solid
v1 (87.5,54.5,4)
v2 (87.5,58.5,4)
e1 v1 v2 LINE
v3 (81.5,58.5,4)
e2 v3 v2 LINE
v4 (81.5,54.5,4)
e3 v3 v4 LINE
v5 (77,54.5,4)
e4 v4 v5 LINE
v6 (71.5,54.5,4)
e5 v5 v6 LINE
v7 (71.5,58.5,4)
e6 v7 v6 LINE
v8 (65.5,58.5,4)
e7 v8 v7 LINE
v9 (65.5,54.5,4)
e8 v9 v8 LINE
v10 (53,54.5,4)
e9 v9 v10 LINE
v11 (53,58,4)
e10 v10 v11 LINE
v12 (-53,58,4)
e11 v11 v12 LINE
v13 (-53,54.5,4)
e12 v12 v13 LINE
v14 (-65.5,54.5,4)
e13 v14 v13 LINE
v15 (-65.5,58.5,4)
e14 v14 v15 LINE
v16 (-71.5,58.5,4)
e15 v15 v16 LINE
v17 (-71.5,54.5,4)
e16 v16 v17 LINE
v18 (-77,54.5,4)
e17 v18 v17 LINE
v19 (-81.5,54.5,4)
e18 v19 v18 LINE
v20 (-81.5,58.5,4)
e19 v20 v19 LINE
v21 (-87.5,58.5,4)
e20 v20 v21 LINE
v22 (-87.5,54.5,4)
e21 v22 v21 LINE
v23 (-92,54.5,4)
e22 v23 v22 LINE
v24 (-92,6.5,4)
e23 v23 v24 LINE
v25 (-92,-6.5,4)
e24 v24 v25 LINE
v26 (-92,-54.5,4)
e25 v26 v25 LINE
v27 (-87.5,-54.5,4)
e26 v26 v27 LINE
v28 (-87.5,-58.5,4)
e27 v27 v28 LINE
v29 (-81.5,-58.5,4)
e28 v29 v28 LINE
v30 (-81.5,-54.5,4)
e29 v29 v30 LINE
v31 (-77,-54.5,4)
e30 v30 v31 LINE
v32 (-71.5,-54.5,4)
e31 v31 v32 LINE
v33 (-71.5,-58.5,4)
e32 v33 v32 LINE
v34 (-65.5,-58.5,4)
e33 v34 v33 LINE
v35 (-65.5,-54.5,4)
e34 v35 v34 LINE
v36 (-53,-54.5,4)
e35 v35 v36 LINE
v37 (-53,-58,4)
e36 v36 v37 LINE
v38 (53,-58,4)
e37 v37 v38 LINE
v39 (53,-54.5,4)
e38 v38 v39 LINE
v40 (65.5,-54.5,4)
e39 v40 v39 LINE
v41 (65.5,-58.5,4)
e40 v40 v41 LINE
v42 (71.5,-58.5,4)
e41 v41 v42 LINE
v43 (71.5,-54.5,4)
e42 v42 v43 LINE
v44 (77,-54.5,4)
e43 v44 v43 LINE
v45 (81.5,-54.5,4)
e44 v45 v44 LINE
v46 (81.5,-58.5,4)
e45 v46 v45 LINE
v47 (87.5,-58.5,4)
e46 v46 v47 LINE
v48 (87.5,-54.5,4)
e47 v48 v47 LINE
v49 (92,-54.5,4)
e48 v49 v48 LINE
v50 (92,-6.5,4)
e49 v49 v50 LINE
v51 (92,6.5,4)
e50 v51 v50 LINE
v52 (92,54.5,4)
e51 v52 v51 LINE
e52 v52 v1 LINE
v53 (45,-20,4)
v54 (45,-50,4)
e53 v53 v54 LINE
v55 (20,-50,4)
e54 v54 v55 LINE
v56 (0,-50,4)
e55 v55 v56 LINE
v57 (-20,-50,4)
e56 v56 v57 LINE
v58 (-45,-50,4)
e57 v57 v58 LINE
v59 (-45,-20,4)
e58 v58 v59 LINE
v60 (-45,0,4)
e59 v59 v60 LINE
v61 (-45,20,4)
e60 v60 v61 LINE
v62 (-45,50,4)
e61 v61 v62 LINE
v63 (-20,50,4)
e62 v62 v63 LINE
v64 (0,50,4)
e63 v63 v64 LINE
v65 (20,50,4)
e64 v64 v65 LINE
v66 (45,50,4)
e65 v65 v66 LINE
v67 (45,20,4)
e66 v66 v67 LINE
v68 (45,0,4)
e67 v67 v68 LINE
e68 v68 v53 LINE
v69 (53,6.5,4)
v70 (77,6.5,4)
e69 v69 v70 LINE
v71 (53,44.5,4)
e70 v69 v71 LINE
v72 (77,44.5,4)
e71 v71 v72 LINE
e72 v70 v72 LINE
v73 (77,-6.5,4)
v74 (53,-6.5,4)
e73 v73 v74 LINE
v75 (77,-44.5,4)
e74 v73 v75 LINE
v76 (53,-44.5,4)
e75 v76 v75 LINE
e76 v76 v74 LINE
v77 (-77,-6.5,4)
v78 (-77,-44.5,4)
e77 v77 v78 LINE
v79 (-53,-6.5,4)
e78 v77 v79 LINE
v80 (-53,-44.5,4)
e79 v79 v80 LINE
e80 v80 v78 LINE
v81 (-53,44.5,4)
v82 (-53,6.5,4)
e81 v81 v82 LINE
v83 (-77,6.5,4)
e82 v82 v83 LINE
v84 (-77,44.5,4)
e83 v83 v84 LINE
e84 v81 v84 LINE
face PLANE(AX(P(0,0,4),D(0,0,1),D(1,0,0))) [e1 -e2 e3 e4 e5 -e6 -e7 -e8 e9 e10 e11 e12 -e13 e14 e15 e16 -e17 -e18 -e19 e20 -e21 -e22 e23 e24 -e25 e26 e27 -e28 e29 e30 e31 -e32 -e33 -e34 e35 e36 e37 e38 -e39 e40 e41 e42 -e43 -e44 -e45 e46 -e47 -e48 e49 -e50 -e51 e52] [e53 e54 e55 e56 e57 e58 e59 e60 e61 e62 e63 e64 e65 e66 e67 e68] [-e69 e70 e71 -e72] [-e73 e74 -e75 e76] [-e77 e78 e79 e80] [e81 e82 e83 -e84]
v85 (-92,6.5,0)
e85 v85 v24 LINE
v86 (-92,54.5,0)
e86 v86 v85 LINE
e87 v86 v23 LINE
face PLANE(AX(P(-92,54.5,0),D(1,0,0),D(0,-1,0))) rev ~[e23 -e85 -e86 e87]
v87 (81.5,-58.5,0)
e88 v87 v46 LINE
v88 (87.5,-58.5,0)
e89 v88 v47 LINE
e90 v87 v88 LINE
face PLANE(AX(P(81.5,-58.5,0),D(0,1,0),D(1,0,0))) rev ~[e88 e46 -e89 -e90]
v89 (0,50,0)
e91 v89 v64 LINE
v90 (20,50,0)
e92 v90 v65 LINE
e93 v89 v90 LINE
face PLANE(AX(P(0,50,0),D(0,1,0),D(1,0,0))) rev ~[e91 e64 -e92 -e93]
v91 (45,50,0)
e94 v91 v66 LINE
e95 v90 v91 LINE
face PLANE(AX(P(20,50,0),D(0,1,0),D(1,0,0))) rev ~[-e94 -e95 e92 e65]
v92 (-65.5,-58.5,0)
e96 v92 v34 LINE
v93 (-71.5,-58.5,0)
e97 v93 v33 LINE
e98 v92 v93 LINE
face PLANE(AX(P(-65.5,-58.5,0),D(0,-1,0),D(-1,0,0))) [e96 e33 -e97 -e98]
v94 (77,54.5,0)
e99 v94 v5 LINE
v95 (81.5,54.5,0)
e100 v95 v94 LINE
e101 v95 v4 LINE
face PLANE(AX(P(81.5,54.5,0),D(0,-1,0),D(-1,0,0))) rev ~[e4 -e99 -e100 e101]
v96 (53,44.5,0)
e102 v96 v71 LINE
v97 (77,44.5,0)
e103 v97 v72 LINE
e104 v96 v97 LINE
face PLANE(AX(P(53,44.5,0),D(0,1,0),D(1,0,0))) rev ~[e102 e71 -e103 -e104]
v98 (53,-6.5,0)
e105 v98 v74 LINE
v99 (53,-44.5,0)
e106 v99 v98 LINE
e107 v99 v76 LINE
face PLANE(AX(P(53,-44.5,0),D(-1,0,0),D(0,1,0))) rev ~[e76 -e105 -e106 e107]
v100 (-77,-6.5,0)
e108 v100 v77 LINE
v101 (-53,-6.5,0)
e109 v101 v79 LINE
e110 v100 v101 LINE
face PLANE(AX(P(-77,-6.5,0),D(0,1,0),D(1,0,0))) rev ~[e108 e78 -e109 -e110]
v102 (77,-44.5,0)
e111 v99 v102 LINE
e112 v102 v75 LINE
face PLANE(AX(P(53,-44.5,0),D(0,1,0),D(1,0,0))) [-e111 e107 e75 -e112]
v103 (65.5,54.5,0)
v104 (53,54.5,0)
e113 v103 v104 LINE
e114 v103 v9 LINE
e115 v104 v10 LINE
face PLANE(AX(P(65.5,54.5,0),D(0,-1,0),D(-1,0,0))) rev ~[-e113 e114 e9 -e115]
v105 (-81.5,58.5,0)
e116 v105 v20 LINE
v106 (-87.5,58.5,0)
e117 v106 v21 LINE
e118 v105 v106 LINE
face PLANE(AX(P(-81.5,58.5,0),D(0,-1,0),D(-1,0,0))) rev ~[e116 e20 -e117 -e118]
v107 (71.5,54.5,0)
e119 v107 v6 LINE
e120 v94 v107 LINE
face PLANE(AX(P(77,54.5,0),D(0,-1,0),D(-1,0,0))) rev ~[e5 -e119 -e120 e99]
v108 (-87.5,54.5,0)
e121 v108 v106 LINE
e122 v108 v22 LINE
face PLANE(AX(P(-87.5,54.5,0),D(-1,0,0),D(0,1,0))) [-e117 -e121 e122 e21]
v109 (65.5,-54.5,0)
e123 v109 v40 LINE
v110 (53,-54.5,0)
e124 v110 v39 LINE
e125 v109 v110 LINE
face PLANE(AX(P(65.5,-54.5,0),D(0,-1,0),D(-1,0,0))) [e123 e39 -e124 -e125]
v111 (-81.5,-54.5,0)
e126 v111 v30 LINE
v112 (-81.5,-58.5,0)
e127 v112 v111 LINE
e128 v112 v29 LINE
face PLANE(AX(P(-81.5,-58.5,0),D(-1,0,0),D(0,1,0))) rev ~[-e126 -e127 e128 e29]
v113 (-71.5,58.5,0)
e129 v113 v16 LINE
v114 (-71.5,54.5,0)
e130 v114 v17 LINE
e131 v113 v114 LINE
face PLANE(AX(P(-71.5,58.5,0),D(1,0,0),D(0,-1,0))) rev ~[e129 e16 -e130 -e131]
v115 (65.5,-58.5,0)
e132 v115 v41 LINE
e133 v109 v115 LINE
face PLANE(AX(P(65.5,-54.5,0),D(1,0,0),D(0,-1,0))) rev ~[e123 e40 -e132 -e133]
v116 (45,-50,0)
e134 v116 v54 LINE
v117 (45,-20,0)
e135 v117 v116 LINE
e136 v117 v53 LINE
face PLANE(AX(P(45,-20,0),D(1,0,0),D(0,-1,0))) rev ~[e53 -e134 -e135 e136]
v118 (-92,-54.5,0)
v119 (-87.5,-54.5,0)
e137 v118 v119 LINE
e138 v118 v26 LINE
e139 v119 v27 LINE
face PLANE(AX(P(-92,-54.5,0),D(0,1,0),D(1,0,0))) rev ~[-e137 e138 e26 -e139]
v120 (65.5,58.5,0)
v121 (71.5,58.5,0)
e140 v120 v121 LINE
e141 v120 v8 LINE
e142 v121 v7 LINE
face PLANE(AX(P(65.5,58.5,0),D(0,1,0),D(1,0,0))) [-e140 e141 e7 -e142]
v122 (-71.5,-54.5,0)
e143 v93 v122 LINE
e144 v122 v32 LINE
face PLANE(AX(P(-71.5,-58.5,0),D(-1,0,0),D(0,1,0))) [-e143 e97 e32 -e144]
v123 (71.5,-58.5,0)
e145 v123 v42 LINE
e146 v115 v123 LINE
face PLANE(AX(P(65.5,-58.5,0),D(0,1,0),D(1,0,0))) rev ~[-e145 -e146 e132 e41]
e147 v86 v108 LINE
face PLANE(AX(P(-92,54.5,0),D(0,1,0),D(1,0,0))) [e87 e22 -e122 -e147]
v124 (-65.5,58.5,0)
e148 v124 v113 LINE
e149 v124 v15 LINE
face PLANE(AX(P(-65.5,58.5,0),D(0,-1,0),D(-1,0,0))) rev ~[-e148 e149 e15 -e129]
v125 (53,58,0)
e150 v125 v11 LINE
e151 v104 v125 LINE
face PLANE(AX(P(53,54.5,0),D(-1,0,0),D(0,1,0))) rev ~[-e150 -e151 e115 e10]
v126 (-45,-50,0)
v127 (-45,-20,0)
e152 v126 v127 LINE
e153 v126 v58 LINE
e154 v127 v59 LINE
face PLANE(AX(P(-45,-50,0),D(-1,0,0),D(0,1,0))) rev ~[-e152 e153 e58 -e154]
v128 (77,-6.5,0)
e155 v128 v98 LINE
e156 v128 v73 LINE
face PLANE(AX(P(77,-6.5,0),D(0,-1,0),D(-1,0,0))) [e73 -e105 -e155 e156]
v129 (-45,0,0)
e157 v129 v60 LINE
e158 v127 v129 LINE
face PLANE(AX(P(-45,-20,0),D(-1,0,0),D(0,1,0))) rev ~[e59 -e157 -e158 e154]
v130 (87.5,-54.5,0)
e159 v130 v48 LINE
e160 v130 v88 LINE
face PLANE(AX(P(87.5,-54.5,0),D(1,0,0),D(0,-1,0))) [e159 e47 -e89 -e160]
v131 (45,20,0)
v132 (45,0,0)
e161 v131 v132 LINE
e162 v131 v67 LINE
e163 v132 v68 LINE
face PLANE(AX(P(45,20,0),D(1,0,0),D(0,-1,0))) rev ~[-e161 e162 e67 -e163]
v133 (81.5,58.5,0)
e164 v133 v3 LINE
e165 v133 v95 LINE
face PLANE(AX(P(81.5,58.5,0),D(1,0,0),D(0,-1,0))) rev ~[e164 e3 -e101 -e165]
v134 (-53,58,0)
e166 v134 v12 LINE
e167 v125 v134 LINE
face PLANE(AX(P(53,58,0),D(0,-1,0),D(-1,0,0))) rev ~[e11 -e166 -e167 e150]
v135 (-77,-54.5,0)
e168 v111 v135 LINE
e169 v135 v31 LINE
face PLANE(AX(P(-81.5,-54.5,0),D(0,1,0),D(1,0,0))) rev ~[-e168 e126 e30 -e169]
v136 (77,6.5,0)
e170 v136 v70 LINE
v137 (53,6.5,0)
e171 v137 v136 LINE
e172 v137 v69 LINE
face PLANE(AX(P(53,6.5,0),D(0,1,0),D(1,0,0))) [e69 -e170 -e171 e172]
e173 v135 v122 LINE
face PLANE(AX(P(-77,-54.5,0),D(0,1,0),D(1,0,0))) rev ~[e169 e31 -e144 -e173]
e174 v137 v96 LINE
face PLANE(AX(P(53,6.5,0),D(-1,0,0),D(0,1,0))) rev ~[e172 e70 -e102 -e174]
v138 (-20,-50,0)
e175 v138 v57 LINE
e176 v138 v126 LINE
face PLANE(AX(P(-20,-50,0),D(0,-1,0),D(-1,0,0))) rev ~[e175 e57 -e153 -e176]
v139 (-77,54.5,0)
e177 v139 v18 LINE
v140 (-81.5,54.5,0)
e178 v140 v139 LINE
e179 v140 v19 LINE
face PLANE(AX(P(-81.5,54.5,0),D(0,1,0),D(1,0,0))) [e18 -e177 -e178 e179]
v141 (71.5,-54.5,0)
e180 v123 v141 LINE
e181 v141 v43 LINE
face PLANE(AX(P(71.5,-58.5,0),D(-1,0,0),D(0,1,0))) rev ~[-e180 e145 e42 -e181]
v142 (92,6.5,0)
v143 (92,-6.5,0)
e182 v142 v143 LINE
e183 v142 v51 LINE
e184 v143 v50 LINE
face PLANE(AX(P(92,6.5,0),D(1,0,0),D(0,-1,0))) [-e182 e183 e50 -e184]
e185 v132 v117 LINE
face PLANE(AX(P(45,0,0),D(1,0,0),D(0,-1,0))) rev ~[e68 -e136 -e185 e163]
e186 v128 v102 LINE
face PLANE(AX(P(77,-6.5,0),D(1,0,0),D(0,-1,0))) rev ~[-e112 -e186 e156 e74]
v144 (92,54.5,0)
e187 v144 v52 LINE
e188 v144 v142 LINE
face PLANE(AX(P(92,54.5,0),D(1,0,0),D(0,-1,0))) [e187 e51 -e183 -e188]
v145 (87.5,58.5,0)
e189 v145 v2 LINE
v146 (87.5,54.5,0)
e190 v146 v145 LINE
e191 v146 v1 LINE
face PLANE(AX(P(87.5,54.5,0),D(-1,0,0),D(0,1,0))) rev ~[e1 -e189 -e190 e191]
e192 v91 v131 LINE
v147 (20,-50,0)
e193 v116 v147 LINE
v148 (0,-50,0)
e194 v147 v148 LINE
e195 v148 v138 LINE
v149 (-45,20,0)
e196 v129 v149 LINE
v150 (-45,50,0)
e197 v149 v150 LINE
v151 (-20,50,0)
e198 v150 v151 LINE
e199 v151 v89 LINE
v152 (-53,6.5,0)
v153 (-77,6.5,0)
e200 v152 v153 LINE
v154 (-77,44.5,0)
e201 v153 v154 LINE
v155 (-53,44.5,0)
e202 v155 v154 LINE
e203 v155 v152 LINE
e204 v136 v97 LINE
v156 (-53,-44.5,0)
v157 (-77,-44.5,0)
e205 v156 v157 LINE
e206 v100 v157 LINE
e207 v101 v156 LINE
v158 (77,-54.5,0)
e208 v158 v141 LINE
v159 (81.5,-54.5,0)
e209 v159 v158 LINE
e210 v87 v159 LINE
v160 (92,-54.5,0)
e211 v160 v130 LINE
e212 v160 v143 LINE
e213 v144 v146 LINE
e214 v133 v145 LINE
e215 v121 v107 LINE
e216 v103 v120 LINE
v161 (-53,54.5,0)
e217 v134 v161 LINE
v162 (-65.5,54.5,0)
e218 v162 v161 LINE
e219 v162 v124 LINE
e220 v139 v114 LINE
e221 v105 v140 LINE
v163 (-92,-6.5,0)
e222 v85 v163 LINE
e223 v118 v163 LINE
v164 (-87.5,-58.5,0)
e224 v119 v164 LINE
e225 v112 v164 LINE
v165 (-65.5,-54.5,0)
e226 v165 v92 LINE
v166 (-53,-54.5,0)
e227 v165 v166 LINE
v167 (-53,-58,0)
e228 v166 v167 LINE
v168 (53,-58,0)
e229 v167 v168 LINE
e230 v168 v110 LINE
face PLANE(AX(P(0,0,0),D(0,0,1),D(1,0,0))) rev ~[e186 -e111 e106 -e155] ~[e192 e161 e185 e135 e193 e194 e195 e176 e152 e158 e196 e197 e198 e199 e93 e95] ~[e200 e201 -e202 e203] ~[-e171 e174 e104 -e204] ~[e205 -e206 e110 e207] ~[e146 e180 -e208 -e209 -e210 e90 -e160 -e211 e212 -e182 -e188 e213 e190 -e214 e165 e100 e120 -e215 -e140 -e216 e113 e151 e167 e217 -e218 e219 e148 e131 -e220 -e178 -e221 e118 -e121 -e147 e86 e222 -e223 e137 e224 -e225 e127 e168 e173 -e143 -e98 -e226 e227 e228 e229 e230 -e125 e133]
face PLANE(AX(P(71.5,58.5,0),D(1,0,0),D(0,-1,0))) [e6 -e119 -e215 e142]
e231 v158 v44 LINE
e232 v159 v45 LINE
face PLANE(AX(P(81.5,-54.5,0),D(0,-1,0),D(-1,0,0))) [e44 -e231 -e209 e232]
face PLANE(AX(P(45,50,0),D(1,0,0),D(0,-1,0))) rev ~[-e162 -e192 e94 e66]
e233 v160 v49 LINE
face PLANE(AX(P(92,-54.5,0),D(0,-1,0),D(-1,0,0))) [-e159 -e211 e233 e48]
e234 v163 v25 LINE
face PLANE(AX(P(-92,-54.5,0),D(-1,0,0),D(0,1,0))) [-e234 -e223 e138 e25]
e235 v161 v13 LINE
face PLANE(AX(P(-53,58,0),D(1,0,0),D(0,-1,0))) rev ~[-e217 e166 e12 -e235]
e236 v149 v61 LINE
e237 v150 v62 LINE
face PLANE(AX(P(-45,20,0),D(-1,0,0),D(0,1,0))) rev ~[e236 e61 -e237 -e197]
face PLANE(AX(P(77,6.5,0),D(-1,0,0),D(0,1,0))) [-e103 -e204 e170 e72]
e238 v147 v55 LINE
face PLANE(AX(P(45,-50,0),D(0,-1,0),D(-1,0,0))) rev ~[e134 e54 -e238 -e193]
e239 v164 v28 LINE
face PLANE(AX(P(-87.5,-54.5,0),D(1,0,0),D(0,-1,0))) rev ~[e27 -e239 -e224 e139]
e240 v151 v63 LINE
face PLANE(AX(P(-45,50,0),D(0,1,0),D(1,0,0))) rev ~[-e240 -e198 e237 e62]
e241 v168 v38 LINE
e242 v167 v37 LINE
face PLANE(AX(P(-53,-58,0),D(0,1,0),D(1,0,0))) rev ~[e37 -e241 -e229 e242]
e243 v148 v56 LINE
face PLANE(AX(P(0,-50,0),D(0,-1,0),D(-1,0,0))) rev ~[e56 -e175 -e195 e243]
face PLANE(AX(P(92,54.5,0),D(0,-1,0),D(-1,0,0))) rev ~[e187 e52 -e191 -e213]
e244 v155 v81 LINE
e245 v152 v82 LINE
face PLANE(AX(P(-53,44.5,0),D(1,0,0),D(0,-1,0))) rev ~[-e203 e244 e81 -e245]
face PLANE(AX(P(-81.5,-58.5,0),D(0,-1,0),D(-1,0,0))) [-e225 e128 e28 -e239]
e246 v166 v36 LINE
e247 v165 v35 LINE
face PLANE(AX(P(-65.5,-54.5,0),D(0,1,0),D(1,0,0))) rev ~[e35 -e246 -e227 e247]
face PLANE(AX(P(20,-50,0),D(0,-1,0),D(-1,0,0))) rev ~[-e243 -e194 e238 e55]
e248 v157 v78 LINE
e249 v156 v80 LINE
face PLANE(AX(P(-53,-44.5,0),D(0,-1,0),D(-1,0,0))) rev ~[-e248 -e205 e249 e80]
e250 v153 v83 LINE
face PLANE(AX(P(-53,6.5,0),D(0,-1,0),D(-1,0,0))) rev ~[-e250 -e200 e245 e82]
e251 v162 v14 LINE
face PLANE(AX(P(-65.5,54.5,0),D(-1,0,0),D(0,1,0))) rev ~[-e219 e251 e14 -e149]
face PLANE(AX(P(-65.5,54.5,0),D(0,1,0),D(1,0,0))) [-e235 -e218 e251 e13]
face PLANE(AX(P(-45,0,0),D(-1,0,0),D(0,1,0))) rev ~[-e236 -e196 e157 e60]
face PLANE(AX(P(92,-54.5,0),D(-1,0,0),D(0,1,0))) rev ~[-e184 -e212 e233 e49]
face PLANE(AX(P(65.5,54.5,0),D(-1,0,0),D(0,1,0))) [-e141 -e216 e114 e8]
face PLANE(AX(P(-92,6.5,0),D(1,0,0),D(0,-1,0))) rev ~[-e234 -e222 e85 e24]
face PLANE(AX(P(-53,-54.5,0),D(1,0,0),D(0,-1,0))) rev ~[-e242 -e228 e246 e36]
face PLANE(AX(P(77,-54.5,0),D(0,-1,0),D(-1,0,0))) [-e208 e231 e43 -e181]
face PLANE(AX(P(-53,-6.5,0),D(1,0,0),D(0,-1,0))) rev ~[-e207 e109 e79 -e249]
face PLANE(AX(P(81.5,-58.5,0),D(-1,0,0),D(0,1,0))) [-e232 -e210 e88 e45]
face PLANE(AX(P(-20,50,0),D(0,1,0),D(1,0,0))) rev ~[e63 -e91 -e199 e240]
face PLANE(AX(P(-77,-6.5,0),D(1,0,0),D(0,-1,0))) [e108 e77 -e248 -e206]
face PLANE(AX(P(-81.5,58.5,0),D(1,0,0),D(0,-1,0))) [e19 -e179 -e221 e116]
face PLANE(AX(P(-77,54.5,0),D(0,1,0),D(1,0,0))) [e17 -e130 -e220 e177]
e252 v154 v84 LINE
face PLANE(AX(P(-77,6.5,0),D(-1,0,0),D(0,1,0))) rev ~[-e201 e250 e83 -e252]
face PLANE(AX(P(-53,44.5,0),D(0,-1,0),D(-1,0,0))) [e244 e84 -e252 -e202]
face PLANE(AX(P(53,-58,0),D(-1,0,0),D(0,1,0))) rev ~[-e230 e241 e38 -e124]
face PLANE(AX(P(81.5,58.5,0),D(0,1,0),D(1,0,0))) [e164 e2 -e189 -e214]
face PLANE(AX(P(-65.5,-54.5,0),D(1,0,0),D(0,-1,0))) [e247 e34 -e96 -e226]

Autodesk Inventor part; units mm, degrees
ref_plane "YZ Plane" through (0, 0, 0) normal (1, 0, 0) x (0, 1, 0)
ref_plane "XZ Plane" through (0, 0, 0) normal (0, 1, 0) x (-1, 0, 0)
ref_plane "XY Plane" through (0, 0, 0) normal (0, 0, 1) x (1, 0, 0)
sketch "Sketch1" plane through (0, 0, 0) normal (0, 0, 1) x (1, 0, 0)
  line L0 (45, -50) -> (-45, -50)
  line L1 (-45, -50) -> (-45, 50)
  line L2 (-45, 50) -> (45, 50)
  line L3 (45, 50) -> (45, -50)
  line L4 (45, -50) -> (-45, 50) construction
  line L5 (-45, -50) -> (45, 50) construction
  line L6 (53, 58) -> (-53, 58)
  line L7 (-53, 58) -> (-53, 54.5)
  line L8 (-53, -58) -> (53, -58)
  line L9 (53, -58) -> (53, -54.5)
  line L10 (-20, 50) -> (20, 50)
  line L11 (-20, -50) -> (20, -50)
  line L12 (-45, -20) -> (-45, 20)
  line L13 (45, -20) -> (45, 20)
  line L14 (-53, 6.5) -> (-77, 6.5)
  line L15 (-53, -6.5) -> (-53, 6.5) construction
  line L16 (-53, 0) -> (53, 0)
  line L17 (0, 50) -> (0, -50)
  line L18 (-53, 6.5) -> (-53, -6.5) construction
  line L19 (-53, -6.5) -> (-53, -44.5)
  line L20 (53, 6.5) -> (53, 44.5)
  line L21 (53, -6.5) -> (53, 6.5) construction
  line L22 (-92, -6.5) -> (-77, -6.5) construction
  line L23 (-77, -6.5) -> (-77, -44.5)
  line L24 (-77, -58) -> (-92, -58) construction
  line L25 (-92, -58) -> (-92, -54.5) construction
  line L26 (-92, -58) -> (-77, -58) construction
  line L27 (-77, -58) -> (-77, -58.5) construction
  line L28 (-77, -58.5) -> (-81.5, -58.5) construction
  line L29 (-92, -58.5) -> (-92, -58) construction
  line L30 (-92, -54.5) -> (-87.5, -54.5)
  line L31 (-87.5, -54.5) -> (-87.5, -58.5)
  line L32 (-81.5, -58.5) -> (-81.5, -54.5)
  line L33 (-81.5, -54.5) -> (-77, -54.5)
  line L34 (-77, 6.5) -> (-77, 44.5)
  line L35 (-77, 58) -> (-92, 58) construction
  line L36 (-92, 58) -> (-92, 54.5) construction
  line L37 (-92, 58) -> (-77, 58) construction
  line L38 (-77, 58) -> (-77, 58.5) construction
  line L39 (-77, 58.5) -> (-81.5, 58.5) construction
  line L40 (-92, 58.5) -> (-92, 58) construction
  line L41 (-92, 54.5) -> (-87.5, 54.5)
  line L42 (-87.5, 54.5) -> (-87.5, 58.5)
  line L43 (-81.5, 58.5) -> (-81.5, 54.5)
  line L44 (-81.5, 54.5) -> (-77, 54.5)
  line L45 (-77, 6.5) -> (-92, 6.5) construction
  line L46 (-92, -6.5) -> (-77, -6.5) construction
  line L47 (-77, -6.5) -> (-53, -6.5)
  line L48 (-77, 54.5) -> (-77, 58) construction
  line L49 (-92, 54.5) -> (-92, 6.5)
  line L50 (-87.5, 58.5) -> (-92, 58.5) construction
  line L51 (-81.5, 58.5) -> (-87.5, 58.5)
  line L52 (-92, -54.5) -> (-92, -6.5)
  line L53 (-87.5, -58.5) -> (-92, -58.5) construction
  line L54 (-81.5, -58.5) -> (-87.5, -58.5)
  line L55 (-77, -54.5) -> (-77, -58) construction
  line L56 (-77, 54.5) -> (-71.5, 54.5)
  line L57 (-53, 54.5) -> (-53, 44.5) construction
  line L58 (-53, 44.5) -> (-77, 44.5)
  line L59 (-77, 44.5) -> (-77, 54.5) construction
  line L60 (-77, -54.5) -> (-71.5, -54.5)
  line L61 (-53, -54.5) -> (-53, -54)
  line L62 (-53, -44.5) -> (-77, -44.5)
  line L63 (-77, -44.5) -> (-77, -54.5) construction
  line L64 (-71.5, 54.5) -> (-65.5, 54.5) construction
  line L65 (-65.5, 54.5) -> (-65.5, 58.5)
  line L66 (-65.5, 58.5) -> (-71.5, 58.5)
  line L67 (-71.5, 58.5) -> (-71.5, 54.5)
  line L68 (-71.5, -54.5) -> (-65.5, -54.5) construction
  line L69 (-65.5, -54.5) -> (-65.5, -58.5)
  line L70 (-65.5, -58.5) -> (-71.5, -58.5)
  line L71 (-71.5, -58.5) -> (-71.5, -54.5)
  line L72 (-71.5, 54.5) -> (-65.5, 54.5) construction
  line L73 (-65.5, 54.5) -> (-53, 54.5)
  line L74 (-77, 44.5) -> (-77, 54.5) construction
  line L75 (-53, 44.5) -> (-53, 6.5)
  line L76 (-53, 54.5) -> (-53, 44.5) construction
  line L77 (-77, -44.5) -> (-77, -54.5) construction
  line L78 (-53, -44.5) -> (-53, -54.5) construction
  line L79 (-53, -54) -> (-53, -44.5) construction
  line L80 (-65.5, -54.5) -> (-53, -54.5)
  line L81 (-71.5, -54.5) -> (-65.5, -54.5) construction
  line L82 (-53, -54.5) -> (-53, -58)
  line L83 (53, 6.5) -> (77, 6.5)
  line L84 (92, -6.5) -> (77, -6.5) construction
  line L85 (77, -6.5) -> (77, -44.5)
  line L86 (77, -58) -> (92, -58) construction
  line L87 (92, -58) -> (92, -54.5) construction
  line L88 (92, -58) -> (77, -58) construction
  line L89 (77, -58) -> (77, -58.5) construction
  line L90 (77, -58.5) -> (81.5, -58.5) construction
  line L91 (92, -58.5) -> (92, -58) construction
  line L92 (92, -54.5) -> (87.5, -54.5)
  line L93 (87.5, -54.5) -> (87.5, -58.5)
  line L94 (81.5, -58.5) -> (81.5, -54.5)
  line L95 (81.5, -54.5) -> (77, -54.5)
  line L96 (92, 54.5) -> (87.5, 54.5)
  line L97 (92, 58) -> (92, 54.5) construction
  line L98 (77, 6.5) -> (77, 44.5)
  line L99 (81.5, 54.5) -> (77, 54.5)
  line L100 (77, 58) -> (92, 58) construction
  line L101 (92, 58) -> (77, 58) construction
  line L102 (77, 58) -> (77, 58.5) construction
  line L103 (77, 58.5) -> (81.5, 58.5) construction
  line L104 (81.5, 58.5) -> (81.5, 54.5)
  line L105 (92, 58.5) -> (92, 58) construction
  line L106 (87.5, 54.5) -> (87.5, 58.5)
  line L107 (77, 6.5) -> (92, 6.5) construction
  line L108 (92, -6.5) -> (77, -6.5) construction
  line L109 (77, -6.5) -> (53, -6.5)
  line L110 (77, 54.5) -> (77, 58) construction
  line L111 (92, 54.5) -> (92, 6.5)
  line L112 (87.5, 58.5) -> (92, 58.5) construction
  line L113 (81.5, 58.5) -> (87.5, 58.5)
  line L114 (92, -54.5) -> (92, -6.5)
  line L115 (87.5, -58.5) -> (92, -58.5) construction
  line L116 (81.5, -58.5) -> (87.5, -58.5)
  line L117 (77, -54.5) -> (77, -58) construction
  line L118 (77, 54.5) -> (71.5, 54.5)
  line L119 (53, 44.5) -> (77, 44.5)
  line L120 (77, 44.5) -> (77, 54.5) construction
  line L121 (77, -54.5) -> (71.5, -54.5)
  line L122 (53, -44.5) -> (77, -44.5)
  line L123 (77, -44.5) -> (77, -54.5) construction
  line L124 (71.5, 54.5) -> (65.5, 54.5) construction
  line L125 (65.5, 54.5) -> (65.5, 58.5)
  line L126 (65.5, 58.5) -> (71.5, 58.5)
  line L127 (71.5, 58.5) -> (71.5, 54.5)
  line L128 (71.5, -54.5) -> (65.5, -54.5) construction
  line L129 (65.5, -54.5) -> (65.5, -58.5)
  line L130 (65.5, -58.5) -> (71.5, -58.5)
  line L131 (71.5, -58.5) -> (71.5, -54.5)
  line L132 (71.5, 54.5) -> (65.5, 54.5) construction
  line L133 (65.5, 54.5) -> (53, 54.5)
  line L134 (77, 44.5) -> (77, 54.5) construction
  line L135 (77, -44.5) -> (77, -54.5) construction
  line L136 (65.5, -54.5) -> (53, -54.5)
  line L137 (71.5, -54.5) -> (65.5, -54.5) construction
  line L138 (53, 44.5) -> (53, 54.5) construction
  line L139 (53, 54.5) -> (53, 58)
  line L140 (53, -44.5) -> (53, -6.5)
  line L141 (53, -54.5) -> (53, -44.5) construction
  line L142 (-92, 6.5) -> (-92, -6.5)
  line L143 (92, 6.5) -> (92, -6.5)
  point P0 (0, 0)
  point P1 (0, 54)
  point P2 (0, 0)
  point P3 (-49, 0)
  point P4 (0, 0)
  point P5 (-53, 0)
  point P6 (0, 0)
  point P7 (0, 0)
  point P8 (-84.5, -58)
  point P9 (-84.5, 58)
  point P10 (-65, 44.5)
  point P11 (-81.5, 56.5)
  point P12 (-71.5, 56.5)
  point P13 (84.5, -58)
  point P14 (84.5, 58)
  point P15 (65, 44.5)
  point P16 (81.5, 56.5)
  point P17 (71.5, 56.5)
  dimension "d0" = 100
  dimension "d1" = 90
  dimension "d2" = 8
  dimension "d16" = 15
  dimension "d17" = 0.5
  dimension "d18" = 6
  dimension "d19" = 4.5
  dimension "d20" = 4.5
  dimension "d21" = 4
  dimension "d24" = 10
  dimension "d25" = 10
  dimension "d27" = 10
  dimension "d28" = 6
  dimension "d29" = 8
  dimension "d30" = 8
  dimension "d31" = 4.5
  dimension "d32" = 24
extrude "Extrusion1" add sketch "Sketch1" along normal blind 4
properties part number "DoorFrameFront_V2" material "Wood (Oak)"
